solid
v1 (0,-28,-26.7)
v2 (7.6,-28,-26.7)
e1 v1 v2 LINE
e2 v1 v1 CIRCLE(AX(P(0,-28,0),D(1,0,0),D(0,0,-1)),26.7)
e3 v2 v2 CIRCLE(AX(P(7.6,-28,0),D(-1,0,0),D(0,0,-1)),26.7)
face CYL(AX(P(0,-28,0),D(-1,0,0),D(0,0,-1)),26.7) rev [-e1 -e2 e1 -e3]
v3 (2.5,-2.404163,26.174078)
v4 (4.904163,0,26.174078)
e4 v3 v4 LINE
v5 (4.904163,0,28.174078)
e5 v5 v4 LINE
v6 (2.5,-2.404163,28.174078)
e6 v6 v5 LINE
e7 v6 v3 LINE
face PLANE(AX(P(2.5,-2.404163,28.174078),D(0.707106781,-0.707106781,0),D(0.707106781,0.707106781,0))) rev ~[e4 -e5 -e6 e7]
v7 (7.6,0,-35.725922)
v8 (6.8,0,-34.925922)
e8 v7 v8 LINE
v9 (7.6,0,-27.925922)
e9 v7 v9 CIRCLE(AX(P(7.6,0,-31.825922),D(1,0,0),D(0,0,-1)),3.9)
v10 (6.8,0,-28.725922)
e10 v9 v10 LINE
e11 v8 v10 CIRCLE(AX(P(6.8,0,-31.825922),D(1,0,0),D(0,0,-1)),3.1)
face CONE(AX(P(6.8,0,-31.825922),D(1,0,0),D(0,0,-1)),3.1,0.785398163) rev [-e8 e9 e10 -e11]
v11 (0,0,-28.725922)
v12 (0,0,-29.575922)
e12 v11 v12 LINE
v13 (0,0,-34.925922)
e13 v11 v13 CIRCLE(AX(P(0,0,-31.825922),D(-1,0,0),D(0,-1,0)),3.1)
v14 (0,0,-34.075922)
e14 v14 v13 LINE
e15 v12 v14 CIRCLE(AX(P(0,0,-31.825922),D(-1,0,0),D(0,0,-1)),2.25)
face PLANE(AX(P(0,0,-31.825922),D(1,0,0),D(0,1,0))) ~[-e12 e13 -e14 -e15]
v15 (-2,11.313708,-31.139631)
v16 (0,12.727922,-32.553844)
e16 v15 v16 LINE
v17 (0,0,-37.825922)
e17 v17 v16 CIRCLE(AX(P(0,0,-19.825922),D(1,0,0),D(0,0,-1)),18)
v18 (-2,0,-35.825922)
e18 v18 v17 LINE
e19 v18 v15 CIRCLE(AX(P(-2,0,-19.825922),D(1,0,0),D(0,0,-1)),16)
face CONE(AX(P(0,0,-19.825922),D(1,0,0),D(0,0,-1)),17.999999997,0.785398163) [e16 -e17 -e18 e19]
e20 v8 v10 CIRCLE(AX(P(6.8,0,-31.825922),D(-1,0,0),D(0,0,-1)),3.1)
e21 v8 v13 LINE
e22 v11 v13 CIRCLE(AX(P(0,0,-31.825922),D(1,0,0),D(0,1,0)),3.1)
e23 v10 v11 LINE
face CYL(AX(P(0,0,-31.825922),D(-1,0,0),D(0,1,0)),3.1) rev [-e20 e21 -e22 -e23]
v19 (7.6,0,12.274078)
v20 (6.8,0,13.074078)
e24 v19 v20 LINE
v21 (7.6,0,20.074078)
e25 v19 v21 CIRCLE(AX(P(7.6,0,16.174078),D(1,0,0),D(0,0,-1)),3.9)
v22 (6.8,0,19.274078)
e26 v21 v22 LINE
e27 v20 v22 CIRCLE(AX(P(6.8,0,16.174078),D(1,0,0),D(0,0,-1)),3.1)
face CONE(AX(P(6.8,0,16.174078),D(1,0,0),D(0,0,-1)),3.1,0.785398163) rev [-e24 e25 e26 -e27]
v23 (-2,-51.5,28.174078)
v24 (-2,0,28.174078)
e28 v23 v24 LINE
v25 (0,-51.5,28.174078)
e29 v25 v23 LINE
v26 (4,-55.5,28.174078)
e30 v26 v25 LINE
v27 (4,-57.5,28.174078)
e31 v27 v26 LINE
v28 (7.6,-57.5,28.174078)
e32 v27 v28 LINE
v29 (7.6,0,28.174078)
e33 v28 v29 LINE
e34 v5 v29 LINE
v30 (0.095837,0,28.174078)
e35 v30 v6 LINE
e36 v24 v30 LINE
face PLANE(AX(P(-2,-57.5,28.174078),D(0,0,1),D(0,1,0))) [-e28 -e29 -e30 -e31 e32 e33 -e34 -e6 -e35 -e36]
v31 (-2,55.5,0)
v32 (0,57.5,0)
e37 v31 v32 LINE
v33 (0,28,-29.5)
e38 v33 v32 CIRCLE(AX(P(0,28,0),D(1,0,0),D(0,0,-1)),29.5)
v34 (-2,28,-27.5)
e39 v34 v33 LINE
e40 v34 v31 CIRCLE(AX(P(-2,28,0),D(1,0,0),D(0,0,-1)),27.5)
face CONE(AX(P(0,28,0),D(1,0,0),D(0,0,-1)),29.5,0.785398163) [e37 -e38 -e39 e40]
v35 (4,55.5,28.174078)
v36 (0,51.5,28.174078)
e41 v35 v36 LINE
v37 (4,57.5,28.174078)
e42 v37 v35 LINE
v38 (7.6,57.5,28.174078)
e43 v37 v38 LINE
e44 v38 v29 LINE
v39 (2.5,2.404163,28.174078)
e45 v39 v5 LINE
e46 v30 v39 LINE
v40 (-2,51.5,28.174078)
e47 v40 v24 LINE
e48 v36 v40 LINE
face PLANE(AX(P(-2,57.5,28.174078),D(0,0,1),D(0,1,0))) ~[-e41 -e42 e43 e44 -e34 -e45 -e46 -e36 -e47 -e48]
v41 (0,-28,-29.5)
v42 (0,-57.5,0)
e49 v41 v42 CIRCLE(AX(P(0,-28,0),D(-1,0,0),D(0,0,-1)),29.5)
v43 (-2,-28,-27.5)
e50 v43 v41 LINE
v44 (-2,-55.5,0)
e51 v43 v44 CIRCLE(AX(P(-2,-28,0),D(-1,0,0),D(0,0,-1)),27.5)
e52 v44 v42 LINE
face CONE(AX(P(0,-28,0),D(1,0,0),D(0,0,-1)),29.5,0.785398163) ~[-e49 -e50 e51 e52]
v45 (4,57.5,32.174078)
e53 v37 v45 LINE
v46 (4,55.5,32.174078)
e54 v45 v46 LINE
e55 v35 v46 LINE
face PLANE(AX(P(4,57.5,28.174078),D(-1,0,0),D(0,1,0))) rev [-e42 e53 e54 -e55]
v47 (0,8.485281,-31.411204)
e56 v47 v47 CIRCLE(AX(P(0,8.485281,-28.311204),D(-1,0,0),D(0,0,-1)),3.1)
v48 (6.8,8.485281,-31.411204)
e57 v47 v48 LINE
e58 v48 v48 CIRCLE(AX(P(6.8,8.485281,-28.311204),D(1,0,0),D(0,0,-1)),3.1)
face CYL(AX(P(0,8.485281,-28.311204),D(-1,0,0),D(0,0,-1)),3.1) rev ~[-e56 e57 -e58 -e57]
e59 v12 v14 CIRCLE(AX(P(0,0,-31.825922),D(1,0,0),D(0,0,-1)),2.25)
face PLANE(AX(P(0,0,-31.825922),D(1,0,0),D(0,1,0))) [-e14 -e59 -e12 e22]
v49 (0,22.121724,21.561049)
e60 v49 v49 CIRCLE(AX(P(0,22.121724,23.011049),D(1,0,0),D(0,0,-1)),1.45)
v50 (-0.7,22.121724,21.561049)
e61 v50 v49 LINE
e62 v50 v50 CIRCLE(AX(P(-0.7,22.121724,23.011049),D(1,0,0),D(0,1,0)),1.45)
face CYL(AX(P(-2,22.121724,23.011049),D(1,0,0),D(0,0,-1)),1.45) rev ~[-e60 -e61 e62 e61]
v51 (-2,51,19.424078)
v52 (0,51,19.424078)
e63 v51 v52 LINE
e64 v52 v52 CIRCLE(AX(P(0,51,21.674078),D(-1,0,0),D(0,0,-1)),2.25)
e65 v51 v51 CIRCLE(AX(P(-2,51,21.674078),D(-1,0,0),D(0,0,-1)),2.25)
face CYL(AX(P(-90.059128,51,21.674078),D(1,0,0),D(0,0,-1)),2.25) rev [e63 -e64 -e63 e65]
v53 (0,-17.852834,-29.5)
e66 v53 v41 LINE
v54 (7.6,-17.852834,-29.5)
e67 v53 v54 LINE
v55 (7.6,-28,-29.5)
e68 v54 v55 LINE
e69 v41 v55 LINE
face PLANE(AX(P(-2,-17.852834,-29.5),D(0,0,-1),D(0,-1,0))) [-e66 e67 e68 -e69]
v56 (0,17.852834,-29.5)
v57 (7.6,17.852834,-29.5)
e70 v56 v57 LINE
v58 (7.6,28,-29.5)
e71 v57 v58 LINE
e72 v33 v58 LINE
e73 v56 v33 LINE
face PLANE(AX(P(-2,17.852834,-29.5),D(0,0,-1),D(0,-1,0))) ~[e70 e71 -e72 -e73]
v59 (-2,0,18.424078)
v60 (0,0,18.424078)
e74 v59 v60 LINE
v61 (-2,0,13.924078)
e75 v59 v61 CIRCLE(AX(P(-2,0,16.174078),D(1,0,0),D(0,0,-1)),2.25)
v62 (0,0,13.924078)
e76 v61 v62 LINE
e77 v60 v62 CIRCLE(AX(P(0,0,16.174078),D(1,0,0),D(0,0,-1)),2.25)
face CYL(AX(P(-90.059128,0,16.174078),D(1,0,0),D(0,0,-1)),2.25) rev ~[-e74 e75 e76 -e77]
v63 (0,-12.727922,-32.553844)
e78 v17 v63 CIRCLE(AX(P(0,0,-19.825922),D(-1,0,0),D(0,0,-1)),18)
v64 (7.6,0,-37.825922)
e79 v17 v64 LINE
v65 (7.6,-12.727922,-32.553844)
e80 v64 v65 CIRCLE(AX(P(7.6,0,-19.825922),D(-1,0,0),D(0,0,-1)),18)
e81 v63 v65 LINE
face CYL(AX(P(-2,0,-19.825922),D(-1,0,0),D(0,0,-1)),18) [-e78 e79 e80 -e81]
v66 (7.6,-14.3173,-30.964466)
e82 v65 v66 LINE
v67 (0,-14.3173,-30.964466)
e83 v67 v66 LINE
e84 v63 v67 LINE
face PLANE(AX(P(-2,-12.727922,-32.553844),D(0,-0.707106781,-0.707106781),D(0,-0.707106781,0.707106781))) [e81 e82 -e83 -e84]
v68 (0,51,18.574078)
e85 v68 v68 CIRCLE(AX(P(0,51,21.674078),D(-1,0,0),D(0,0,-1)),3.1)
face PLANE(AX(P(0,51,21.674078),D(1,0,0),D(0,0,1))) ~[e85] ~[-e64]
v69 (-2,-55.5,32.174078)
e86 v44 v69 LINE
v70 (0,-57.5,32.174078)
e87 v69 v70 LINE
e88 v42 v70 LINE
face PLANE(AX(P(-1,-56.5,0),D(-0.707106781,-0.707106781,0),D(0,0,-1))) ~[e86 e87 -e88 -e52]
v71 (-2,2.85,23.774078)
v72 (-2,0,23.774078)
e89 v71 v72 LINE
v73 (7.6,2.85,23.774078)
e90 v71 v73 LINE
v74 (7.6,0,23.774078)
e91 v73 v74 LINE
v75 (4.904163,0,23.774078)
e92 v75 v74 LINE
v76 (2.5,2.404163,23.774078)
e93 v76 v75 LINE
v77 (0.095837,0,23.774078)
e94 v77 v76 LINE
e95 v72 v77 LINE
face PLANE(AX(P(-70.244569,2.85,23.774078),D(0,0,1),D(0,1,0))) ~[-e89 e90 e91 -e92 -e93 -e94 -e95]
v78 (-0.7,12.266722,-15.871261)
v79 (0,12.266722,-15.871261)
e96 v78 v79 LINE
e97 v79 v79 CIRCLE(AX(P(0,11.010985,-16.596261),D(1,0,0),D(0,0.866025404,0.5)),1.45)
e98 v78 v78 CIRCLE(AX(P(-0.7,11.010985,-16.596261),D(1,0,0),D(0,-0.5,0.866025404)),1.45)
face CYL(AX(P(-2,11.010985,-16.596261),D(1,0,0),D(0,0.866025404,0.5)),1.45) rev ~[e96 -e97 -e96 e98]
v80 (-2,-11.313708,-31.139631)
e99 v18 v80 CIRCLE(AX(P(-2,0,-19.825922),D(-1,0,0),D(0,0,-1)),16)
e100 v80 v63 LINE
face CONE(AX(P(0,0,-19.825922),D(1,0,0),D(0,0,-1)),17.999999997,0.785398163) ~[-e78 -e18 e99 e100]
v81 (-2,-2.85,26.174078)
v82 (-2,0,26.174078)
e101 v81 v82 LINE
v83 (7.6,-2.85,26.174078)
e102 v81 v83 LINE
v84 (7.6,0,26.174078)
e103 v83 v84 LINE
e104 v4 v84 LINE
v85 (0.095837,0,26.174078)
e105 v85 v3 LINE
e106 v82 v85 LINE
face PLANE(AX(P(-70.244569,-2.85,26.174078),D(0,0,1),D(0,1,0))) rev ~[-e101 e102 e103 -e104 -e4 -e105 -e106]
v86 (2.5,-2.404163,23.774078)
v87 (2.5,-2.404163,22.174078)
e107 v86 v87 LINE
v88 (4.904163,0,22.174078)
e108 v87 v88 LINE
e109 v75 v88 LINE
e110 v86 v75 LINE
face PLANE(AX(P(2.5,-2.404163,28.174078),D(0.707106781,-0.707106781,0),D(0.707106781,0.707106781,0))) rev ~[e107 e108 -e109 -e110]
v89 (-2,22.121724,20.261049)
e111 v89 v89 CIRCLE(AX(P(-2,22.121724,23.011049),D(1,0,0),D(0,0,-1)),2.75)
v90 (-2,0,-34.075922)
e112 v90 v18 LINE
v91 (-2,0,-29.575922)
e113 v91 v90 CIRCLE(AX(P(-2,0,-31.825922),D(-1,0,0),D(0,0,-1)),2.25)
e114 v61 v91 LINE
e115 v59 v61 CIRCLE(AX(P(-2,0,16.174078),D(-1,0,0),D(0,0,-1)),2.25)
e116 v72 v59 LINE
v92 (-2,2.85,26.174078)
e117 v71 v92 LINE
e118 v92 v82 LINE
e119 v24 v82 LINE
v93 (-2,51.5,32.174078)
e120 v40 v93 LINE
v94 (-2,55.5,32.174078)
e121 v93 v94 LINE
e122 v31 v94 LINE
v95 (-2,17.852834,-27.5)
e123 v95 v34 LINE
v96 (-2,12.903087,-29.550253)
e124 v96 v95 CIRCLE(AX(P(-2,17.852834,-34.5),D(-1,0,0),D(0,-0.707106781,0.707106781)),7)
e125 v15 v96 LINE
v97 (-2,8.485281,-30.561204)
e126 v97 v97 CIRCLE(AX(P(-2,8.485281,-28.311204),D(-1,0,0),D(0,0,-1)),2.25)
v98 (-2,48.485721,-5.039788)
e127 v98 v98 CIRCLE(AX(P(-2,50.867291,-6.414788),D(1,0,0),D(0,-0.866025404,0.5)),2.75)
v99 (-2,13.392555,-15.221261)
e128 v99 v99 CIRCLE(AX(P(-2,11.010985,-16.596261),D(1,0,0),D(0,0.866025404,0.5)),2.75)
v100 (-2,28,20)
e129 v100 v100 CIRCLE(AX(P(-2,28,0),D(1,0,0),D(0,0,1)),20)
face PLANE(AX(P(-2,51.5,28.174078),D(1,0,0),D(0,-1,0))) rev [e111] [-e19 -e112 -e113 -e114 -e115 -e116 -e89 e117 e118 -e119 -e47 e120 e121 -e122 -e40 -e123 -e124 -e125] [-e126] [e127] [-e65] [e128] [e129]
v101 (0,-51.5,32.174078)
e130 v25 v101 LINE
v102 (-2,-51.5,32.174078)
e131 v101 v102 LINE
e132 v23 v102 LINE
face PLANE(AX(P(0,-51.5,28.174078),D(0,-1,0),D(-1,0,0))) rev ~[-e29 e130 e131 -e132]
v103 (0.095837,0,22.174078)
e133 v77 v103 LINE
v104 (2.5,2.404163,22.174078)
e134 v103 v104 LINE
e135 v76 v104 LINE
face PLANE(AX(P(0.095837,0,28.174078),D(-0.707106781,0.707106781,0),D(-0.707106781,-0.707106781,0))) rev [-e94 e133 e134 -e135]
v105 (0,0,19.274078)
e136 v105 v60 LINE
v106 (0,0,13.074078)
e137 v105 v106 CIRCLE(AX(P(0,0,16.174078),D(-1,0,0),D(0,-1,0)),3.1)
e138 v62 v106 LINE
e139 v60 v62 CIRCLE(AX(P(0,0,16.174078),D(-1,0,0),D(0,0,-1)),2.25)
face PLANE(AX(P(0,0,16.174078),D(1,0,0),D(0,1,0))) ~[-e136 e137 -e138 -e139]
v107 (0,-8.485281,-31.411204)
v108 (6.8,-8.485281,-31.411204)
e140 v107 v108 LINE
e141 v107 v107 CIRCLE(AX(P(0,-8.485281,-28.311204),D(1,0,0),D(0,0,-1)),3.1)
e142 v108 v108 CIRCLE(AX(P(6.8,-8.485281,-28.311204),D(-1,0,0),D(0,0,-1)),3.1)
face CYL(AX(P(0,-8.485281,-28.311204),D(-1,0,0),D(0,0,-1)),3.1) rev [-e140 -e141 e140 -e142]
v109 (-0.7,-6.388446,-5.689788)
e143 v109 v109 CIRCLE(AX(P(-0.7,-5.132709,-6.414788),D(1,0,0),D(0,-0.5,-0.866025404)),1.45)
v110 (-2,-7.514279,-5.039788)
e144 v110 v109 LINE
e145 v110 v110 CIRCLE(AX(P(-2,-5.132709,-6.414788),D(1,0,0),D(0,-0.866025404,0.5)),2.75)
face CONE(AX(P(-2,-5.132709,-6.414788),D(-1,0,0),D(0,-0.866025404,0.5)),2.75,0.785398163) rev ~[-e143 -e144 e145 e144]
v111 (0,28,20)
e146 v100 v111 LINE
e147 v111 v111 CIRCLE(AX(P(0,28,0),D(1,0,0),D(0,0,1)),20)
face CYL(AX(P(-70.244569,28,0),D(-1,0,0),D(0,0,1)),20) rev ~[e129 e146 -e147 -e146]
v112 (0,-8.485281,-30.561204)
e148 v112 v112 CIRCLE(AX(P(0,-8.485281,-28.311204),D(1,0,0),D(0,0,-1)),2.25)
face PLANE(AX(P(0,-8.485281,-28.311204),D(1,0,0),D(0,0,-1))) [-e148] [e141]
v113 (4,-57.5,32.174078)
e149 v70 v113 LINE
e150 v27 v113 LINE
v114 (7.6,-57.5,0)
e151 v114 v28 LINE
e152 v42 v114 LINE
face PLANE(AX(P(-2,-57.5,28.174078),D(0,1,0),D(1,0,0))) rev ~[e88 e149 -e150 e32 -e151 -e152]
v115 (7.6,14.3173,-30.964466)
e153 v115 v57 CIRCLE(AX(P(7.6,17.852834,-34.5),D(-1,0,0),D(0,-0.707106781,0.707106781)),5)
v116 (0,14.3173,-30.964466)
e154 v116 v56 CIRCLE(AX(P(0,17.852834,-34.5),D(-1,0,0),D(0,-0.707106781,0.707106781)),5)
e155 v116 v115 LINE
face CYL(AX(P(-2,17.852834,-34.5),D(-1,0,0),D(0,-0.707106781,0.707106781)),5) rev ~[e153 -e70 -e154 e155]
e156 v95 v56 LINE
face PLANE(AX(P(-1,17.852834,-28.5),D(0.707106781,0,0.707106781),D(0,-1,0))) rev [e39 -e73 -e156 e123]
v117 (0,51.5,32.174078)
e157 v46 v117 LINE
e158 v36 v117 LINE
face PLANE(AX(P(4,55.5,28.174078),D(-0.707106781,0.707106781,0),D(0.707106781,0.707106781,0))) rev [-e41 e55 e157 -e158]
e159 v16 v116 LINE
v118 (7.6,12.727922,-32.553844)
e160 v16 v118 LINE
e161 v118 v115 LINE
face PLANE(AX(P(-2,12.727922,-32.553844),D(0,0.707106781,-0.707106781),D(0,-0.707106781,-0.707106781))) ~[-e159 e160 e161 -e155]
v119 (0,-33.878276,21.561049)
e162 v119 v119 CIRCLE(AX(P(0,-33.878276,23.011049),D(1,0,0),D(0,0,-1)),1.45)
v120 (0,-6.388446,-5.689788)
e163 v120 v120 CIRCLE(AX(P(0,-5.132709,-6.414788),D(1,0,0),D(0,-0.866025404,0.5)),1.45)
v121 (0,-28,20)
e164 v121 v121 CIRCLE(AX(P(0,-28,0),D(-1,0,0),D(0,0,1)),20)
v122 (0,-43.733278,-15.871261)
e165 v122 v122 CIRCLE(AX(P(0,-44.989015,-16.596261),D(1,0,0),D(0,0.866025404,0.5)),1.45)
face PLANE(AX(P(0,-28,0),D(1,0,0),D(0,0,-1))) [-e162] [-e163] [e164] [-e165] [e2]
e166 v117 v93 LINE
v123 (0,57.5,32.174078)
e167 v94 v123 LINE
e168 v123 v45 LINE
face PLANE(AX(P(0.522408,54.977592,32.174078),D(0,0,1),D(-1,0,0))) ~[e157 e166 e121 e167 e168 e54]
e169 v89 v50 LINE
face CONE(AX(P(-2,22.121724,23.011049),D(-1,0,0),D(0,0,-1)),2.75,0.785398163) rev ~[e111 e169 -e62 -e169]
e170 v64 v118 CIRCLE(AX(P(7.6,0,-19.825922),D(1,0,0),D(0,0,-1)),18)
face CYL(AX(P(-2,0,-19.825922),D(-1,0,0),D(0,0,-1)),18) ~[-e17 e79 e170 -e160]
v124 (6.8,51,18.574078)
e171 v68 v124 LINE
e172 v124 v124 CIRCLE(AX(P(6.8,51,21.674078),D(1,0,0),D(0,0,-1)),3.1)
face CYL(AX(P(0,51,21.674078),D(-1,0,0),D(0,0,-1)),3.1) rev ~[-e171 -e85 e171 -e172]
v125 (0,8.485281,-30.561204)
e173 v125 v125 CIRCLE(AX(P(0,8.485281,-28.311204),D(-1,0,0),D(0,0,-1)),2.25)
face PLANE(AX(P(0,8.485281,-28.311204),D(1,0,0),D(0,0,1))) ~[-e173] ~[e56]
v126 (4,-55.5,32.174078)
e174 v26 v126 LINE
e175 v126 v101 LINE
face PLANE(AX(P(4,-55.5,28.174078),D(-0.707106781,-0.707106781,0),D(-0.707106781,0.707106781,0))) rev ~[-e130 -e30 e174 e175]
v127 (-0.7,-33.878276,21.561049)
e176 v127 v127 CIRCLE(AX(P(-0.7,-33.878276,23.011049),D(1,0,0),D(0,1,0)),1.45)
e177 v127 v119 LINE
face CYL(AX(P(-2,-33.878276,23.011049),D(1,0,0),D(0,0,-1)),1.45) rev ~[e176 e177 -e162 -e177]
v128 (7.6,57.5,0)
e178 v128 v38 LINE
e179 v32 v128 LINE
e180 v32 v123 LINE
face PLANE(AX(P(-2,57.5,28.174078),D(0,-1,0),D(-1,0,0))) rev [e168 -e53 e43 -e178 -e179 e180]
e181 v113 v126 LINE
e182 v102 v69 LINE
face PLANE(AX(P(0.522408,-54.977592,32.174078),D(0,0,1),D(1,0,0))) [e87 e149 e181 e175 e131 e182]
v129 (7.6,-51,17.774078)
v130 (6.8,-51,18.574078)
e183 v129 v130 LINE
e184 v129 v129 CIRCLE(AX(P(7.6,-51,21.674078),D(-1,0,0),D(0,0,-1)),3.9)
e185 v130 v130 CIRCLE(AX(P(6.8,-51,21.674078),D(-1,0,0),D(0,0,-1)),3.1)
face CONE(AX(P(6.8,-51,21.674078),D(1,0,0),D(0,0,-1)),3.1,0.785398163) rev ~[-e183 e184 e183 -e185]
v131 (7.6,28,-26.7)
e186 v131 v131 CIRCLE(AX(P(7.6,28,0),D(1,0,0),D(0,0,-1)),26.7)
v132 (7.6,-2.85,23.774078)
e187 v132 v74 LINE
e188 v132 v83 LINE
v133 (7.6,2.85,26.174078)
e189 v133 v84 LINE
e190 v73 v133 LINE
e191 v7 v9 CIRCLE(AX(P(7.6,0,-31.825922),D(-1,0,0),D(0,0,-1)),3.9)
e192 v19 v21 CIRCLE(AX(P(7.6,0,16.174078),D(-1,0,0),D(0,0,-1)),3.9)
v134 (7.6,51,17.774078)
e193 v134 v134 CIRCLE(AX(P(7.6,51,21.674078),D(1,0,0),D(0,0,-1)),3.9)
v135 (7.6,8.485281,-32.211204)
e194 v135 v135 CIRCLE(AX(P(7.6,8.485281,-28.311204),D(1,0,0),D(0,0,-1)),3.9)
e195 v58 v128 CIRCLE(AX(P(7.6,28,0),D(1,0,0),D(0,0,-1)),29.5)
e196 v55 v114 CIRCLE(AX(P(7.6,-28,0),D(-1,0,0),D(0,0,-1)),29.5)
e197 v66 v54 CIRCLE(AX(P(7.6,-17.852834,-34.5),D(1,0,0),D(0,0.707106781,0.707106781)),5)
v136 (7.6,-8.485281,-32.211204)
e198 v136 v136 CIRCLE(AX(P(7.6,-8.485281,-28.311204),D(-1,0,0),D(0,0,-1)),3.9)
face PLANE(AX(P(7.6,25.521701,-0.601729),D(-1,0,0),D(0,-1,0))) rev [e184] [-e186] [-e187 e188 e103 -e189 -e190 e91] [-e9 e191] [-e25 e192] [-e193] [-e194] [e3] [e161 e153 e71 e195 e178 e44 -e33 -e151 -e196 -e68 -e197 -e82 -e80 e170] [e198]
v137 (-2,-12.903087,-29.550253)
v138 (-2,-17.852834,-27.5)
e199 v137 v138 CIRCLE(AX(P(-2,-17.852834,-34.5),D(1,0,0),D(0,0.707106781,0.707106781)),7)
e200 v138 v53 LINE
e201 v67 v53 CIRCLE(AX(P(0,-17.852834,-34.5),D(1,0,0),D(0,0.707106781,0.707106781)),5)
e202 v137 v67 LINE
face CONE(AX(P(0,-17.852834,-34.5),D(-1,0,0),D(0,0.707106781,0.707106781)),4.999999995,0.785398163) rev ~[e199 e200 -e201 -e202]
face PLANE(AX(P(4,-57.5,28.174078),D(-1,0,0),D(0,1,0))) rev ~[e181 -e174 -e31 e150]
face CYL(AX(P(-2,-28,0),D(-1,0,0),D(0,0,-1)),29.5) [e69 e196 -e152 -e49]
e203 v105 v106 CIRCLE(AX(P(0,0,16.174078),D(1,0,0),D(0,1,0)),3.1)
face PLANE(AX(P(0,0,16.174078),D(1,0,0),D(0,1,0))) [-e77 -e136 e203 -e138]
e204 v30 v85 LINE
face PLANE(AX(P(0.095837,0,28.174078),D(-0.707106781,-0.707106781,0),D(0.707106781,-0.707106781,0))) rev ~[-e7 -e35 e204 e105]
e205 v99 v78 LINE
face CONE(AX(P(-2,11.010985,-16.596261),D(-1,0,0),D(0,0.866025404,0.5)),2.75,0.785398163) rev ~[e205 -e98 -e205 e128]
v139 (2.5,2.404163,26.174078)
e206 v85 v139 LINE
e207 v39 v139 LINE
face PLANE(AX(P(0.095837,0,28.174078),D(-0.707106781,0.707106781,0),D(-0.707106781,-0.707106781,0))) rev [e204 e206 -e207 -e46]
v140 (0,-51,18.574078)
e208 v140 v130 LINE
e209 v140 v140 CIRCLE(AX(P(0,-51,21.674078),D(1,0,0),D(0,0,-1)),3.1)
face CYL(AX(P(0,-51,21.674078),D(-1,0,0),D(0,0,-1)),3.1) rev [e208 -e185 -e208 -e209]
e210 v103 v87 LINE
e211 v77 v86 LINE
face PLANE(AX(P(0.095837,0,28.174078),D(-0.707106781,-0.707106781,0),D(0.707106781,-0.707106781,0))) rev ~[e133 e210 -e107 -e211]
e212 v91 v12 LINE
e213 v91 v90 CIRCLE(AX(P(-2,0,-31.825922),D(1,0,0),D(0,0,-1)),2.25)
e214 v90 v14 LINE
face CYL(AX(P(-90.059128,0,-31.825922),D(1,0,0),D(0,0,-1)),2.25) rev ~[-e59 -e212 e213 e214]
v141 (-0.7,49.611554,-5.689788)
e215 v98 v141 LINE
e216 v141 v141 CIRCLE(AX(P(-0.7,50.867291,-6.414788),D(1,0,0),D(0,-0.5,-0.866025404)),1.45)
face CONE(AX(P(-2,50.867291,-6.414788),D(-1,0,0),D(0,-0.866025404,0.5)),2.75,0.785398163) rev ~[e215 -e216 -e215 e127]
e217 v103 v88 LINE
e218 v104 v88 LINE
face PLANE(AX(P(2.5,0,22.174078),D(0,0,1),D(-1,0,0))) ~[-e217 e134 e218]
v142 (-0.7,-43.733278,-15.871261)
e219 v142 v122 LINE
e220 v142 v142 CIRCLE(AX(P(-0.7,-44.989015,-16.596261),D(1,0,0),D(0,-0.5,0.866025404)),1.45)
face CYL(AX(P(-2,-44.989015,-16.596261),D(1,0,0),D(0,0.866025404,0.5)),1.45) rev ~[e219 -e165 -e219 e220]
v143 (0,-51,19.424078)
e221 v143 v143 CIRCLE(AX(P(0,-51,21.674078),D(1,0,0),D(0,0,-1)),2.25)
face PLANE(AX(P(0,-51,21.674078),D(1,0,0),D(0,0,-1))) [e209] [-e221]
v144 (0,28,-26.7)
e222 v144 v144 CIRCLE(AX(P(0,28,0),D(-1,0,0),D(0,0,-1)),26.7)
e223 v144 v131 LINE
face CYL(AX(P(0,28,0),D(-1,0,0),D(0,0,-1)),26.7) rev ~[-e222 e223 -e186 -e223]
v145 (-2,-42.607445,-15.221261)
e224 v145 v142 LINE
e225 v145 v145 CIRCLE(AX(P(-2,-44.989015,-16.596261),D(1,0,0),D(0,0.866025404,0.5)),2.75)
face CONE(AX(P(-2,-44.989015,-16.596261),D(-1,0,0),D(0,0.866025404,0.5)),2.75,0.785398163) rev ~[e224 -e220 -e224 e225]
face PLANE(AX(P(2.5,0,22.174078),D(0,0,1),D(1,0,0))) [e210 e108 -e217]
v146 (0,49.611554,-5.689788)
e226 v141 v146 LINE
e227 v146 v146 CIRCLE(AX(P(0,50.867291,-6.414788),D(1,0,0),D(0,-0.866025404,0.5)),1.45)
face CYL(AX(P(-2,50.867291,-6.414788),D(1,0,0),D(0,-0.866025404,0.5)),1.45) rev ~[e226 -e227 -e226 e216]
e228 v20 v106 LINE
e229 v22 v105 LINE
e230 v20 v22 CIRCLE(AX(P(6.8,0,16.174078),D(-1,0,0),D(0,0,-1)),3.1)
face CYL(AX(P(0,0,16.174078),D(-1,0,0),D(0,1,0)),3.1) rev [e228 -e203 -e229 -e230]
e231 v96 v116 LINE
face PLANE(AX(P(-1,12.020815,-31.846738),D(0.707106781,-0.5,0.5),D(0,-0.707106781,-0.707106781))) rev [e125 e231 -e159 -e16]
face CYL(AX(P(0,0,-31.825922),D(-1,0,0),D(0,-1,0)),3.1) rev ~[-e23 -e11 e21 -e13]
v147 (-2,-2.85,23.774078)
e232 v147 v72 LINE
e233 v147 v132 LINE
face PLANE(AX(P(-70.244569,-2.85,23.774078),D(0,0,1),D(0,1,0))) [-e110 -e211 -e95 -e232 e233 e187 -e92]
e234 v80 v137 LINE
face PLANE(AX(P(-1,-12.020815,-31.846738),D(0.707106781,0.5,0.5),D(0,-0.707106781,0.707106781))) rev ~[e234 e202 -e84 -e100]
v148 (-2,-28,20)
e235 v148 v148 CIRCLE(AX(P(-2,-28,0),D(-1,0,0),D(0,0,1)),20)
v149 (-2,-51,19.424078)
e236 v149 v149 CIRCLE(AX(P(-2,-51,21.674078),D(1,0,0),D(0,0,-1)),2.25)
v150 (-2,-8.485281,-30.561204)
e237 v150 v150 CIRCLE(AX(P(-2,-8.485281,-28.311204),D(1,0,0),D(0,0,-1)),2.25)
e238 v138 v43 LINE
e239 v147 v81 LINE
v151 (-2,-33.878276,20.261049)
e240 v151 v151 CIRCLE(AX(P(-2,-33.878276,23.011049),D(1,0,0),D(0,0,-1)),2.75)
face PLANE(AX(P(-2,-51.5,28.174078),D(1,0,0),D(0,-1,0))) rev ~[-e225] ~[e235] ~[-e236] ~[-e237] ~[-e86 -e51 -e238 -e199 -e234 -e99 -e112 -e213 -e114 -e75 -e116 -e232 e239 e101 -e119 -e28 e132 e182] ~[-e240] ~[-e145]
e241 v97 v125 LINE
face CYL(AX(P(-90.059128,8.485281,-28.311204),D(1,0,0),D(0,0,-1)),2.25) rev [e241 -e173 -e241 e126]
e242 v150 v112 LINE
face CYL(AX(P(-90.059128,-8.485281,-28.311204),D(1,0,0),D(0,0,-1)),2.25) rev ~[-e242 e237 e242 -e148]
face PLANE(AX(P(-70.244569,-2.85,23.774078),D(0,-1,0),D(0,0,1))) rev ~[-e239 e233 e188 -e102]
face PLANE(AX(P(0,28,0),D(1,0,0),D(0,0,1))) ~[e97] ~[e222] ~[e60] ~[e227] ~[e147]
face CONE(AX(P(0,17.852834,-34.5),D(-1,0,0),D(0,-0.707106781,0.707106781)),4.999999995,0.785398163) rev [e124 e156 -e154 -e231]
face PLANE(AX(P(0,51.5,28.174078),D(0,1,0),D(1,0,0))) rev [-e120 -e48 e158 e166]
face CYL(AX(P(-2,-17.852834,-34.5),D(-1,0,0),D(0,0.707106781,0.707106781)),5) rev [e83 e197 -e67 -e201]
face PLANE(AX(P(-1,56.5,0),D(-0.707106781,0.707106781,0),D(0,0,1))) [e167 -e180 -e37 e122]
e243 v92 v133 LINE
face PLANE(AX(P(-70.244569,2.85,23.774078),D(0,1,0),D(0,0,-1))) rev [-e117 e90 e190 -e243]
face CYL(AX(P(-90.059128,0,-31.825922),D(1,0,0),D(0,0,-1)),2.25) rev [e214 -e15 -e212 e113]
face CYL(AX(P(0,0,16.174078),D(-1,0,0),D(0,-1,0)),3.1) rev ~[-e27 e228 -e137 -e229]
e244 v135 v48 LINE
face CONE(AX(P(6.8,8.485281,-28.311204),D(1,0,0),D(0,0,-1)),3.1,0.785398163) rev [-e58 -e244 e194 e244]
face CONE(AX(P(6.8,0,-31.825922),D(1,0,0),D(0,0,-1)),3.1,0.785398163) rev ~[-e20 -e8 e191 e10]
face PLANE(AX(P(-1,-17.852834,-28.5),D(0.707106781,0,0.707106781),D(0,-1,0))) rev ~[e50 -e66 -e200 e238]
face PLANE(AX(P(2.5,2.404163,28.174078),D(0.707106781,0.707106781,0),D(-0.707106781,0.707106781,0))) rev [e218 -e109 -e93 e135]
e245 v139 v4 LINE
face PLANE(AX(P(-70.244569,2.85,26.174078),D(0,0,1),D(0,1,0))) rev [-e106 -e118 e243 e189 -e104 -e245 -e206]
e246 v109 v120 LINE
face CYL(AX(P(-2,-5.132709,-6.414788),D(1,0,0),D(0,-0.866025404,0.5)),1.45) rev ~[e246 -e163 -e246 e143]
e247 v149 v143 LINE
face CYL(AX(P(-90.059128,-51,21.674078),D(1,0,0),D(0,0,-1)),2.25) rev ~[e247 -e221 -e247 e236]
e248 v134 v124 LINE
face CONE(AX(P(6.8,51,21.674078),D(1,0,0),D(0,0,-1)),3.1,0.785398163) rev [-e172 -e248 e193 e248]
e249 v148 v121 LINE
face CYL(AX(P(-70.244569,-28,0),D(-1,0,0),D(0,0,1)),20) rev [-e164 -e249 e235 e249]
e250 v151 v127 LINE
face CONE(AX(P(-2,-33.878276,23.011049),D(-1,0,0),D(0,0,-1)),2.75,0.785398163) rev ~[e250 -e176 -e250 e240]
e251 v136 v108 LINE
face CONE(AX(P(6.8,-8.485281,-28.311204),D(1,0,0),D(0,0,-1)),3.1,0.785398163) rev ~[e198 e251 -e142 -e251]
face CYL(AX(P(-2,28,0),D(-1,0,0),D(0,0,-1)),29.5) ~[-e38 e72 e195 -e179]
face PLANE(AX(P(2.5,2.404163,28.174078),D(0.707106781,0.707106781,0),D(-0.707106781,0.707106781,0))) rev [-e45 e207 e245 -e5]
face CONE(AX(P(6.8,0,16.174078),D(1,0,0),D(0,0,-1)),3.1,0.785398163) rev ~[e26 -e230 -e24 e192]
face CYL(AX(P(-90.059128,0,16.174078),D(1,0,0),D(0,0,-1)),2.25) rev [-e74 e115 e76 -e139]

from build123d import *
from build123d.topology import SkipClean

# Parameters (mm, degrees)
BOSS_EXTRUDE1_DEPTH                               = 7.6
BOSS_EXTRUDE1_DEPTH_BACK                          = 2
CUT_EXTRUDE1_DEPTH                                = 70.244569428
CUT_EXTRUDE1_DEPTH_BACK                           = 70.244569428
SKETCH9_R                                         = 20
SKETCH10_R                                        = 3.1
CUT_EXTRUDE2_DEPTH                                = 70.244569428
SKETCH11_R                                        = 26.7
CUT_EXTRUDE3_DEPTH                                = 70.244569428
CUT_EXTRUDE4_DEPTH                                = 70.244569428
CUT_EXTRUDE4_DEPTH_BACK                           = 70.244569428
SKETCH12_W                                        = 5.7
SKETCH12_H                                        = 2.4
CUT_EXTRUDE5_START                                = 28.174078
CUT_EXTRUDE5_DEPTH                                = 6
M4_CLEARANCE_HOLE1_D                              = 4.5
BOSS_EXTRUDE2_DEPTH                               = 4
CHAMFER1_SIZE                                     = 2
CHAMFER2_SIZE                                     = 0.8
CSK_FOR_M2_5_FLAT_HEAD_MACHINE_SCREW1_D           = 2.9
CSK_FOR_M2_5_FLAT_HEAD_MACHINE_SCREW1_CSINK_D     = 5.5
CSK_FOR_M2_5_FLAT_HEAD_MACHINE_SCREW1_CSINK_ANGLE = 90
CIRPATTERN1_COUNT                                 = 3
LPATTERN1_COUNT                                   = 2
LPATTERN1_PITCH                                   = 56
LPATTERN1_COPY_1_D                                = 2.9
LPATTERN1_COPY_1_CSINK_D                          = 5.5
LPATTERN1_COPY_1_CSINK_ANGLE                      = 90
LPATTERN1_COPY_2_D                                = 2.9
LPATTERN1_COPY_2_CSINK_D                          = 5.5
LPATTERN1_COPY_2_CSINK_ANGLE                      = 90


with BuildPart() as part:
    # Sketch2 → Boss-Extrude1 (new, two sides: drawn at the far end of the back side and taken through both)
    with BuildSketch(Plane.YZ.offset(-BOSS_EXTRUDE1_DEPTH_BACK)):
        with BuildLine():
            Line((-12.727922061, -32.553844327), (-14.317300295, -30.964466094))
            ThreePointArc((-14.317300295, -30.964466094), (-15.939417039, -29.880602337), (-17.852834201, -29.5))
            Line((-17.852834201, -29.5), (-28, -29.5))
            ThreePointArc((-28, -29.5), (-48.859650045, -20.859650045), (-57.5, 0))
            Line((-57.5, 0), (-57.5, 28.174077734))
            Line((-57.5, 28.174077734), (0, 28.174077734))
            Line((0, 28.174077734), (0, -37.825922266))
            ThreePointArc((0, -37.825922266), (-6.888301783, -36.455753851), (-12.727922061, -32.553844327))
        make_face()
    extrude(amount=BOSS_EXTRUDE1_DEPTH + BOSS_EXTRUDE1_DEPTH_BACK)

    # Sketch9 → Cut-Extrude1 (cut, two sides: drawn at the far end of the back side and taken through both)
    with BuildSketch(Plane.YZ.offset(-CUT_EXTRUDE1_DEPTH_BACK)):
        with Locations(Location((-28, 0, 0), (0, 0, 90))):
            Circle(SKETCH9_R)
    extrude(amount=CUT_EXTRUDE1_DEPTH + CUT_EXTRUDE1_DEPTH_BACK, mode=Mode.SUBTRACT)

    # Sketch10 → Cut-Extrude2 (cut, through all)
    with BuildSketch(Plane.YZ):
        with Locations((0, 16.174077734)):
            Circle(SKETCH10_R)
        with Locations(Location((-8.485281374, -28.31120364, 0), (0, 0, 270))):
            Circle(SKETCH10_R)
        with Locations((0, -31.825922266)):
            Circle(SKETCH10_R)
        with Locations((8.485281374, -28.31120364)):
            Circle(SKETCH10_R)
        with Locations(Location((-51, 21.674077734, 0), (0, 0, 270))):
            Circle(SKETCH10_R)
    extrude(amount=CUT_EXTRUDE2_DEPTH, mode=Mode.SUBTRACT)

    # Sketch11 → Cut-Extrude3 (cut, through all)
    with BuildSketch(Plane.YZ):
        with Locations(Location((-28, 0, 0), (0, 0, 270))):
            Circle(SKETCH11_R)
    extrude(amount=CUT_EXTRUDE3_DEPTH, mode=Mode.SUBTRACT)

    # Sketch12 → Cut-Extrude4 (cut, two sides: drawn at the far end of the back side and taken through both)
    with BuildSketch(Plane.YZ.offset(-CUT_EXTRUDE4_DEPTH_BACK)):
        with Locations((0, 24.974077734)):
            Rectangle(SKETCH12_W, SKETCH12_H)
    extrude(amount=CUT_EXTRUDE4_DEPTH + CUT_EXTRUDE4_DEPTH_BACK, mode=Mode.SUBTRACT)

    # Sketch13 → Cut-Extrude5 (cut)
    with BuildSketch(Plane.XY.offset(CUT_EXTRUDE5_START)):
        Polygon((2.5, -2.404163056), (4.904163056, 0), (2.5, 2.404163056), (0.095836944, 0), align=None)
    extrude(amount=-CUT_EXTRUDE5_DEPTH, mode=Mode.SUBTRACT)

    # M4 Clearance Hole1 (through all)
    with Locations(Plane.ZY.offset(2)):
        with Locations((16.174077734, 0), (-28.31120364, -8.485281374), (-31.825922266, 0), (21.674077734, -51)):
            Hole(M4_CLEARANCE_HOLE1_D / 2)

    # Sketch20 → Boss-Extrude2 (add)
    with BuildSketch(Plane.XY.offset(28.174077734)):
        Polygon((-2, -51.5), (-2, -57.5), (4, -57.5), (4, -55.5), (0, -51.5), align=None)
    extrude(amount=BOSS_EXTRUDE2_DEPTH)

    # Chamfer1
    chamfer1_edges = [part.edges().sort_by_distance(p)[0] for p in [
        (-2, -48.859650045, -20.859650045),
        (-2, -22.9264171, -29.5),
        (-2, -15.939417039, -29.880602337),
        (-2, -13.522611178, -31.759155211),
        (-2, -6.888301783, -36.455753851),
        (-2, -57.5, 16.087038867),
    ]]
    chamfer(chamfer1_edges, length=CHAMFER1_SIZE)

    # Chamfer2
    chamfer2_edges = [part.edges().sort_by_distance(p)[0] for p in [
        (7.6, -3.1, 16.174077734),
        (7.6, -3.1, -31.825922266),
        (7.6, -8.485281374, -25.21120364),
        (7.6, -51, 24.774077734),
    ]]
    chamfer(chamfer2_edges, length=CHAMFER2_SIZE)

    # Mirror1: part across plane


with BuildPart() as part_1:
    with SkipClean():  # the faces are left unmerged after this step: merging them gives an invalid solid
        add(part.part)
        add(part.part.mirror(Plane(origin=(0, 0, 0), x_dir=(0, 0, 1), z_dir=(0, -1, 0))))

    # CSK for M2.5 Flat Head Machine Screw1 (through all)
    with Locations(Plane.ZY.offset(2)):
        with Locations((23.011048917, -33.878275914)):
            csk_for_m2_5_flat_head_machine_screw1 = CounterSinkHole(CSK_FOR_M2_5_FLAT_HEAD_MACHINE_SCREW1_D / 2, CSK_FOR_M2_5_FLAT_HEAD_MACHINE_SCREW1_CSINK_D / 2, counter_sink_angle=CSK_FOR_M2_5_FLAT_HEAD_MACHINE_SCREW1_CSINK_ANGLE)

    # CirPattern1: CSK for M2.5 Flat Head Machine Screw1 ×3 about axis
    with SkipClean():  # the faces are left unmerged after this step: merging them gives an invalid solid
        cirpattern1_axis = Axis((0, -28, 0), (1, 0, 0))
        for i in range(1, CIRPATTERN1_COUNT):
            add(csk_for_m2_5_flat_head_machine_screw1.rotate(cirpattern1_axis, i * 360 / CIRPATTERN1_COUNT), mode=Mode.SUBTRACT)

    # LPattern1: CSK for M2.5 Flat Head Machine Screw1 ×2
    with SkipClean():  # the faces are left unmerged after this step: merging them gives an invalid solid
        with Locations(*[(0, i * LPATTERN1_PITCH, 0) for i in range(1, LPATTERN1_COUNT)]):
            add(csk_for_m2_5_flat_head_machine_screw1, mode=Mode.SUBTRACT)

    # LPattern1 copy 1 (through all)
    with Locations(Plane(origin=(-2, 14, 24.248711306), x_dir=(-6.7609180727612354e-15, -0.8660254037844387, -0.4999999999999998), z_dir=(-1, 0, 0))):
        with Locations((23.011048917, -33.878275914)):
            CounterSinkHole(LPATTERN1_COPY_1_D / 2, LPATTERN1_COPY_1_CSINK_D / 2, counter_sink_angle=LPATTERN1_COPY_1_CSINK_ANGLE)

    # LPattern1 copy 2 (through all)
    with Locations(Plane(origin=(-2, 14, -24.248711306), x_dir=(-6.7609180727612354e-15, 0.8660254037844384, -0.5000000000000004), z_dir=(-1, 0, 0))):
        with Locations((23.011048917, -33.878275914)):
            CounterSinkHole(LPATTERN1_COPY_2_D / 2, LPATTERN1_COPY_2_CSINK_D / 2, counter_sink_angle=LPATTERN1_COPY_2_CSINK_ANGLE)


solid = part_1.part
